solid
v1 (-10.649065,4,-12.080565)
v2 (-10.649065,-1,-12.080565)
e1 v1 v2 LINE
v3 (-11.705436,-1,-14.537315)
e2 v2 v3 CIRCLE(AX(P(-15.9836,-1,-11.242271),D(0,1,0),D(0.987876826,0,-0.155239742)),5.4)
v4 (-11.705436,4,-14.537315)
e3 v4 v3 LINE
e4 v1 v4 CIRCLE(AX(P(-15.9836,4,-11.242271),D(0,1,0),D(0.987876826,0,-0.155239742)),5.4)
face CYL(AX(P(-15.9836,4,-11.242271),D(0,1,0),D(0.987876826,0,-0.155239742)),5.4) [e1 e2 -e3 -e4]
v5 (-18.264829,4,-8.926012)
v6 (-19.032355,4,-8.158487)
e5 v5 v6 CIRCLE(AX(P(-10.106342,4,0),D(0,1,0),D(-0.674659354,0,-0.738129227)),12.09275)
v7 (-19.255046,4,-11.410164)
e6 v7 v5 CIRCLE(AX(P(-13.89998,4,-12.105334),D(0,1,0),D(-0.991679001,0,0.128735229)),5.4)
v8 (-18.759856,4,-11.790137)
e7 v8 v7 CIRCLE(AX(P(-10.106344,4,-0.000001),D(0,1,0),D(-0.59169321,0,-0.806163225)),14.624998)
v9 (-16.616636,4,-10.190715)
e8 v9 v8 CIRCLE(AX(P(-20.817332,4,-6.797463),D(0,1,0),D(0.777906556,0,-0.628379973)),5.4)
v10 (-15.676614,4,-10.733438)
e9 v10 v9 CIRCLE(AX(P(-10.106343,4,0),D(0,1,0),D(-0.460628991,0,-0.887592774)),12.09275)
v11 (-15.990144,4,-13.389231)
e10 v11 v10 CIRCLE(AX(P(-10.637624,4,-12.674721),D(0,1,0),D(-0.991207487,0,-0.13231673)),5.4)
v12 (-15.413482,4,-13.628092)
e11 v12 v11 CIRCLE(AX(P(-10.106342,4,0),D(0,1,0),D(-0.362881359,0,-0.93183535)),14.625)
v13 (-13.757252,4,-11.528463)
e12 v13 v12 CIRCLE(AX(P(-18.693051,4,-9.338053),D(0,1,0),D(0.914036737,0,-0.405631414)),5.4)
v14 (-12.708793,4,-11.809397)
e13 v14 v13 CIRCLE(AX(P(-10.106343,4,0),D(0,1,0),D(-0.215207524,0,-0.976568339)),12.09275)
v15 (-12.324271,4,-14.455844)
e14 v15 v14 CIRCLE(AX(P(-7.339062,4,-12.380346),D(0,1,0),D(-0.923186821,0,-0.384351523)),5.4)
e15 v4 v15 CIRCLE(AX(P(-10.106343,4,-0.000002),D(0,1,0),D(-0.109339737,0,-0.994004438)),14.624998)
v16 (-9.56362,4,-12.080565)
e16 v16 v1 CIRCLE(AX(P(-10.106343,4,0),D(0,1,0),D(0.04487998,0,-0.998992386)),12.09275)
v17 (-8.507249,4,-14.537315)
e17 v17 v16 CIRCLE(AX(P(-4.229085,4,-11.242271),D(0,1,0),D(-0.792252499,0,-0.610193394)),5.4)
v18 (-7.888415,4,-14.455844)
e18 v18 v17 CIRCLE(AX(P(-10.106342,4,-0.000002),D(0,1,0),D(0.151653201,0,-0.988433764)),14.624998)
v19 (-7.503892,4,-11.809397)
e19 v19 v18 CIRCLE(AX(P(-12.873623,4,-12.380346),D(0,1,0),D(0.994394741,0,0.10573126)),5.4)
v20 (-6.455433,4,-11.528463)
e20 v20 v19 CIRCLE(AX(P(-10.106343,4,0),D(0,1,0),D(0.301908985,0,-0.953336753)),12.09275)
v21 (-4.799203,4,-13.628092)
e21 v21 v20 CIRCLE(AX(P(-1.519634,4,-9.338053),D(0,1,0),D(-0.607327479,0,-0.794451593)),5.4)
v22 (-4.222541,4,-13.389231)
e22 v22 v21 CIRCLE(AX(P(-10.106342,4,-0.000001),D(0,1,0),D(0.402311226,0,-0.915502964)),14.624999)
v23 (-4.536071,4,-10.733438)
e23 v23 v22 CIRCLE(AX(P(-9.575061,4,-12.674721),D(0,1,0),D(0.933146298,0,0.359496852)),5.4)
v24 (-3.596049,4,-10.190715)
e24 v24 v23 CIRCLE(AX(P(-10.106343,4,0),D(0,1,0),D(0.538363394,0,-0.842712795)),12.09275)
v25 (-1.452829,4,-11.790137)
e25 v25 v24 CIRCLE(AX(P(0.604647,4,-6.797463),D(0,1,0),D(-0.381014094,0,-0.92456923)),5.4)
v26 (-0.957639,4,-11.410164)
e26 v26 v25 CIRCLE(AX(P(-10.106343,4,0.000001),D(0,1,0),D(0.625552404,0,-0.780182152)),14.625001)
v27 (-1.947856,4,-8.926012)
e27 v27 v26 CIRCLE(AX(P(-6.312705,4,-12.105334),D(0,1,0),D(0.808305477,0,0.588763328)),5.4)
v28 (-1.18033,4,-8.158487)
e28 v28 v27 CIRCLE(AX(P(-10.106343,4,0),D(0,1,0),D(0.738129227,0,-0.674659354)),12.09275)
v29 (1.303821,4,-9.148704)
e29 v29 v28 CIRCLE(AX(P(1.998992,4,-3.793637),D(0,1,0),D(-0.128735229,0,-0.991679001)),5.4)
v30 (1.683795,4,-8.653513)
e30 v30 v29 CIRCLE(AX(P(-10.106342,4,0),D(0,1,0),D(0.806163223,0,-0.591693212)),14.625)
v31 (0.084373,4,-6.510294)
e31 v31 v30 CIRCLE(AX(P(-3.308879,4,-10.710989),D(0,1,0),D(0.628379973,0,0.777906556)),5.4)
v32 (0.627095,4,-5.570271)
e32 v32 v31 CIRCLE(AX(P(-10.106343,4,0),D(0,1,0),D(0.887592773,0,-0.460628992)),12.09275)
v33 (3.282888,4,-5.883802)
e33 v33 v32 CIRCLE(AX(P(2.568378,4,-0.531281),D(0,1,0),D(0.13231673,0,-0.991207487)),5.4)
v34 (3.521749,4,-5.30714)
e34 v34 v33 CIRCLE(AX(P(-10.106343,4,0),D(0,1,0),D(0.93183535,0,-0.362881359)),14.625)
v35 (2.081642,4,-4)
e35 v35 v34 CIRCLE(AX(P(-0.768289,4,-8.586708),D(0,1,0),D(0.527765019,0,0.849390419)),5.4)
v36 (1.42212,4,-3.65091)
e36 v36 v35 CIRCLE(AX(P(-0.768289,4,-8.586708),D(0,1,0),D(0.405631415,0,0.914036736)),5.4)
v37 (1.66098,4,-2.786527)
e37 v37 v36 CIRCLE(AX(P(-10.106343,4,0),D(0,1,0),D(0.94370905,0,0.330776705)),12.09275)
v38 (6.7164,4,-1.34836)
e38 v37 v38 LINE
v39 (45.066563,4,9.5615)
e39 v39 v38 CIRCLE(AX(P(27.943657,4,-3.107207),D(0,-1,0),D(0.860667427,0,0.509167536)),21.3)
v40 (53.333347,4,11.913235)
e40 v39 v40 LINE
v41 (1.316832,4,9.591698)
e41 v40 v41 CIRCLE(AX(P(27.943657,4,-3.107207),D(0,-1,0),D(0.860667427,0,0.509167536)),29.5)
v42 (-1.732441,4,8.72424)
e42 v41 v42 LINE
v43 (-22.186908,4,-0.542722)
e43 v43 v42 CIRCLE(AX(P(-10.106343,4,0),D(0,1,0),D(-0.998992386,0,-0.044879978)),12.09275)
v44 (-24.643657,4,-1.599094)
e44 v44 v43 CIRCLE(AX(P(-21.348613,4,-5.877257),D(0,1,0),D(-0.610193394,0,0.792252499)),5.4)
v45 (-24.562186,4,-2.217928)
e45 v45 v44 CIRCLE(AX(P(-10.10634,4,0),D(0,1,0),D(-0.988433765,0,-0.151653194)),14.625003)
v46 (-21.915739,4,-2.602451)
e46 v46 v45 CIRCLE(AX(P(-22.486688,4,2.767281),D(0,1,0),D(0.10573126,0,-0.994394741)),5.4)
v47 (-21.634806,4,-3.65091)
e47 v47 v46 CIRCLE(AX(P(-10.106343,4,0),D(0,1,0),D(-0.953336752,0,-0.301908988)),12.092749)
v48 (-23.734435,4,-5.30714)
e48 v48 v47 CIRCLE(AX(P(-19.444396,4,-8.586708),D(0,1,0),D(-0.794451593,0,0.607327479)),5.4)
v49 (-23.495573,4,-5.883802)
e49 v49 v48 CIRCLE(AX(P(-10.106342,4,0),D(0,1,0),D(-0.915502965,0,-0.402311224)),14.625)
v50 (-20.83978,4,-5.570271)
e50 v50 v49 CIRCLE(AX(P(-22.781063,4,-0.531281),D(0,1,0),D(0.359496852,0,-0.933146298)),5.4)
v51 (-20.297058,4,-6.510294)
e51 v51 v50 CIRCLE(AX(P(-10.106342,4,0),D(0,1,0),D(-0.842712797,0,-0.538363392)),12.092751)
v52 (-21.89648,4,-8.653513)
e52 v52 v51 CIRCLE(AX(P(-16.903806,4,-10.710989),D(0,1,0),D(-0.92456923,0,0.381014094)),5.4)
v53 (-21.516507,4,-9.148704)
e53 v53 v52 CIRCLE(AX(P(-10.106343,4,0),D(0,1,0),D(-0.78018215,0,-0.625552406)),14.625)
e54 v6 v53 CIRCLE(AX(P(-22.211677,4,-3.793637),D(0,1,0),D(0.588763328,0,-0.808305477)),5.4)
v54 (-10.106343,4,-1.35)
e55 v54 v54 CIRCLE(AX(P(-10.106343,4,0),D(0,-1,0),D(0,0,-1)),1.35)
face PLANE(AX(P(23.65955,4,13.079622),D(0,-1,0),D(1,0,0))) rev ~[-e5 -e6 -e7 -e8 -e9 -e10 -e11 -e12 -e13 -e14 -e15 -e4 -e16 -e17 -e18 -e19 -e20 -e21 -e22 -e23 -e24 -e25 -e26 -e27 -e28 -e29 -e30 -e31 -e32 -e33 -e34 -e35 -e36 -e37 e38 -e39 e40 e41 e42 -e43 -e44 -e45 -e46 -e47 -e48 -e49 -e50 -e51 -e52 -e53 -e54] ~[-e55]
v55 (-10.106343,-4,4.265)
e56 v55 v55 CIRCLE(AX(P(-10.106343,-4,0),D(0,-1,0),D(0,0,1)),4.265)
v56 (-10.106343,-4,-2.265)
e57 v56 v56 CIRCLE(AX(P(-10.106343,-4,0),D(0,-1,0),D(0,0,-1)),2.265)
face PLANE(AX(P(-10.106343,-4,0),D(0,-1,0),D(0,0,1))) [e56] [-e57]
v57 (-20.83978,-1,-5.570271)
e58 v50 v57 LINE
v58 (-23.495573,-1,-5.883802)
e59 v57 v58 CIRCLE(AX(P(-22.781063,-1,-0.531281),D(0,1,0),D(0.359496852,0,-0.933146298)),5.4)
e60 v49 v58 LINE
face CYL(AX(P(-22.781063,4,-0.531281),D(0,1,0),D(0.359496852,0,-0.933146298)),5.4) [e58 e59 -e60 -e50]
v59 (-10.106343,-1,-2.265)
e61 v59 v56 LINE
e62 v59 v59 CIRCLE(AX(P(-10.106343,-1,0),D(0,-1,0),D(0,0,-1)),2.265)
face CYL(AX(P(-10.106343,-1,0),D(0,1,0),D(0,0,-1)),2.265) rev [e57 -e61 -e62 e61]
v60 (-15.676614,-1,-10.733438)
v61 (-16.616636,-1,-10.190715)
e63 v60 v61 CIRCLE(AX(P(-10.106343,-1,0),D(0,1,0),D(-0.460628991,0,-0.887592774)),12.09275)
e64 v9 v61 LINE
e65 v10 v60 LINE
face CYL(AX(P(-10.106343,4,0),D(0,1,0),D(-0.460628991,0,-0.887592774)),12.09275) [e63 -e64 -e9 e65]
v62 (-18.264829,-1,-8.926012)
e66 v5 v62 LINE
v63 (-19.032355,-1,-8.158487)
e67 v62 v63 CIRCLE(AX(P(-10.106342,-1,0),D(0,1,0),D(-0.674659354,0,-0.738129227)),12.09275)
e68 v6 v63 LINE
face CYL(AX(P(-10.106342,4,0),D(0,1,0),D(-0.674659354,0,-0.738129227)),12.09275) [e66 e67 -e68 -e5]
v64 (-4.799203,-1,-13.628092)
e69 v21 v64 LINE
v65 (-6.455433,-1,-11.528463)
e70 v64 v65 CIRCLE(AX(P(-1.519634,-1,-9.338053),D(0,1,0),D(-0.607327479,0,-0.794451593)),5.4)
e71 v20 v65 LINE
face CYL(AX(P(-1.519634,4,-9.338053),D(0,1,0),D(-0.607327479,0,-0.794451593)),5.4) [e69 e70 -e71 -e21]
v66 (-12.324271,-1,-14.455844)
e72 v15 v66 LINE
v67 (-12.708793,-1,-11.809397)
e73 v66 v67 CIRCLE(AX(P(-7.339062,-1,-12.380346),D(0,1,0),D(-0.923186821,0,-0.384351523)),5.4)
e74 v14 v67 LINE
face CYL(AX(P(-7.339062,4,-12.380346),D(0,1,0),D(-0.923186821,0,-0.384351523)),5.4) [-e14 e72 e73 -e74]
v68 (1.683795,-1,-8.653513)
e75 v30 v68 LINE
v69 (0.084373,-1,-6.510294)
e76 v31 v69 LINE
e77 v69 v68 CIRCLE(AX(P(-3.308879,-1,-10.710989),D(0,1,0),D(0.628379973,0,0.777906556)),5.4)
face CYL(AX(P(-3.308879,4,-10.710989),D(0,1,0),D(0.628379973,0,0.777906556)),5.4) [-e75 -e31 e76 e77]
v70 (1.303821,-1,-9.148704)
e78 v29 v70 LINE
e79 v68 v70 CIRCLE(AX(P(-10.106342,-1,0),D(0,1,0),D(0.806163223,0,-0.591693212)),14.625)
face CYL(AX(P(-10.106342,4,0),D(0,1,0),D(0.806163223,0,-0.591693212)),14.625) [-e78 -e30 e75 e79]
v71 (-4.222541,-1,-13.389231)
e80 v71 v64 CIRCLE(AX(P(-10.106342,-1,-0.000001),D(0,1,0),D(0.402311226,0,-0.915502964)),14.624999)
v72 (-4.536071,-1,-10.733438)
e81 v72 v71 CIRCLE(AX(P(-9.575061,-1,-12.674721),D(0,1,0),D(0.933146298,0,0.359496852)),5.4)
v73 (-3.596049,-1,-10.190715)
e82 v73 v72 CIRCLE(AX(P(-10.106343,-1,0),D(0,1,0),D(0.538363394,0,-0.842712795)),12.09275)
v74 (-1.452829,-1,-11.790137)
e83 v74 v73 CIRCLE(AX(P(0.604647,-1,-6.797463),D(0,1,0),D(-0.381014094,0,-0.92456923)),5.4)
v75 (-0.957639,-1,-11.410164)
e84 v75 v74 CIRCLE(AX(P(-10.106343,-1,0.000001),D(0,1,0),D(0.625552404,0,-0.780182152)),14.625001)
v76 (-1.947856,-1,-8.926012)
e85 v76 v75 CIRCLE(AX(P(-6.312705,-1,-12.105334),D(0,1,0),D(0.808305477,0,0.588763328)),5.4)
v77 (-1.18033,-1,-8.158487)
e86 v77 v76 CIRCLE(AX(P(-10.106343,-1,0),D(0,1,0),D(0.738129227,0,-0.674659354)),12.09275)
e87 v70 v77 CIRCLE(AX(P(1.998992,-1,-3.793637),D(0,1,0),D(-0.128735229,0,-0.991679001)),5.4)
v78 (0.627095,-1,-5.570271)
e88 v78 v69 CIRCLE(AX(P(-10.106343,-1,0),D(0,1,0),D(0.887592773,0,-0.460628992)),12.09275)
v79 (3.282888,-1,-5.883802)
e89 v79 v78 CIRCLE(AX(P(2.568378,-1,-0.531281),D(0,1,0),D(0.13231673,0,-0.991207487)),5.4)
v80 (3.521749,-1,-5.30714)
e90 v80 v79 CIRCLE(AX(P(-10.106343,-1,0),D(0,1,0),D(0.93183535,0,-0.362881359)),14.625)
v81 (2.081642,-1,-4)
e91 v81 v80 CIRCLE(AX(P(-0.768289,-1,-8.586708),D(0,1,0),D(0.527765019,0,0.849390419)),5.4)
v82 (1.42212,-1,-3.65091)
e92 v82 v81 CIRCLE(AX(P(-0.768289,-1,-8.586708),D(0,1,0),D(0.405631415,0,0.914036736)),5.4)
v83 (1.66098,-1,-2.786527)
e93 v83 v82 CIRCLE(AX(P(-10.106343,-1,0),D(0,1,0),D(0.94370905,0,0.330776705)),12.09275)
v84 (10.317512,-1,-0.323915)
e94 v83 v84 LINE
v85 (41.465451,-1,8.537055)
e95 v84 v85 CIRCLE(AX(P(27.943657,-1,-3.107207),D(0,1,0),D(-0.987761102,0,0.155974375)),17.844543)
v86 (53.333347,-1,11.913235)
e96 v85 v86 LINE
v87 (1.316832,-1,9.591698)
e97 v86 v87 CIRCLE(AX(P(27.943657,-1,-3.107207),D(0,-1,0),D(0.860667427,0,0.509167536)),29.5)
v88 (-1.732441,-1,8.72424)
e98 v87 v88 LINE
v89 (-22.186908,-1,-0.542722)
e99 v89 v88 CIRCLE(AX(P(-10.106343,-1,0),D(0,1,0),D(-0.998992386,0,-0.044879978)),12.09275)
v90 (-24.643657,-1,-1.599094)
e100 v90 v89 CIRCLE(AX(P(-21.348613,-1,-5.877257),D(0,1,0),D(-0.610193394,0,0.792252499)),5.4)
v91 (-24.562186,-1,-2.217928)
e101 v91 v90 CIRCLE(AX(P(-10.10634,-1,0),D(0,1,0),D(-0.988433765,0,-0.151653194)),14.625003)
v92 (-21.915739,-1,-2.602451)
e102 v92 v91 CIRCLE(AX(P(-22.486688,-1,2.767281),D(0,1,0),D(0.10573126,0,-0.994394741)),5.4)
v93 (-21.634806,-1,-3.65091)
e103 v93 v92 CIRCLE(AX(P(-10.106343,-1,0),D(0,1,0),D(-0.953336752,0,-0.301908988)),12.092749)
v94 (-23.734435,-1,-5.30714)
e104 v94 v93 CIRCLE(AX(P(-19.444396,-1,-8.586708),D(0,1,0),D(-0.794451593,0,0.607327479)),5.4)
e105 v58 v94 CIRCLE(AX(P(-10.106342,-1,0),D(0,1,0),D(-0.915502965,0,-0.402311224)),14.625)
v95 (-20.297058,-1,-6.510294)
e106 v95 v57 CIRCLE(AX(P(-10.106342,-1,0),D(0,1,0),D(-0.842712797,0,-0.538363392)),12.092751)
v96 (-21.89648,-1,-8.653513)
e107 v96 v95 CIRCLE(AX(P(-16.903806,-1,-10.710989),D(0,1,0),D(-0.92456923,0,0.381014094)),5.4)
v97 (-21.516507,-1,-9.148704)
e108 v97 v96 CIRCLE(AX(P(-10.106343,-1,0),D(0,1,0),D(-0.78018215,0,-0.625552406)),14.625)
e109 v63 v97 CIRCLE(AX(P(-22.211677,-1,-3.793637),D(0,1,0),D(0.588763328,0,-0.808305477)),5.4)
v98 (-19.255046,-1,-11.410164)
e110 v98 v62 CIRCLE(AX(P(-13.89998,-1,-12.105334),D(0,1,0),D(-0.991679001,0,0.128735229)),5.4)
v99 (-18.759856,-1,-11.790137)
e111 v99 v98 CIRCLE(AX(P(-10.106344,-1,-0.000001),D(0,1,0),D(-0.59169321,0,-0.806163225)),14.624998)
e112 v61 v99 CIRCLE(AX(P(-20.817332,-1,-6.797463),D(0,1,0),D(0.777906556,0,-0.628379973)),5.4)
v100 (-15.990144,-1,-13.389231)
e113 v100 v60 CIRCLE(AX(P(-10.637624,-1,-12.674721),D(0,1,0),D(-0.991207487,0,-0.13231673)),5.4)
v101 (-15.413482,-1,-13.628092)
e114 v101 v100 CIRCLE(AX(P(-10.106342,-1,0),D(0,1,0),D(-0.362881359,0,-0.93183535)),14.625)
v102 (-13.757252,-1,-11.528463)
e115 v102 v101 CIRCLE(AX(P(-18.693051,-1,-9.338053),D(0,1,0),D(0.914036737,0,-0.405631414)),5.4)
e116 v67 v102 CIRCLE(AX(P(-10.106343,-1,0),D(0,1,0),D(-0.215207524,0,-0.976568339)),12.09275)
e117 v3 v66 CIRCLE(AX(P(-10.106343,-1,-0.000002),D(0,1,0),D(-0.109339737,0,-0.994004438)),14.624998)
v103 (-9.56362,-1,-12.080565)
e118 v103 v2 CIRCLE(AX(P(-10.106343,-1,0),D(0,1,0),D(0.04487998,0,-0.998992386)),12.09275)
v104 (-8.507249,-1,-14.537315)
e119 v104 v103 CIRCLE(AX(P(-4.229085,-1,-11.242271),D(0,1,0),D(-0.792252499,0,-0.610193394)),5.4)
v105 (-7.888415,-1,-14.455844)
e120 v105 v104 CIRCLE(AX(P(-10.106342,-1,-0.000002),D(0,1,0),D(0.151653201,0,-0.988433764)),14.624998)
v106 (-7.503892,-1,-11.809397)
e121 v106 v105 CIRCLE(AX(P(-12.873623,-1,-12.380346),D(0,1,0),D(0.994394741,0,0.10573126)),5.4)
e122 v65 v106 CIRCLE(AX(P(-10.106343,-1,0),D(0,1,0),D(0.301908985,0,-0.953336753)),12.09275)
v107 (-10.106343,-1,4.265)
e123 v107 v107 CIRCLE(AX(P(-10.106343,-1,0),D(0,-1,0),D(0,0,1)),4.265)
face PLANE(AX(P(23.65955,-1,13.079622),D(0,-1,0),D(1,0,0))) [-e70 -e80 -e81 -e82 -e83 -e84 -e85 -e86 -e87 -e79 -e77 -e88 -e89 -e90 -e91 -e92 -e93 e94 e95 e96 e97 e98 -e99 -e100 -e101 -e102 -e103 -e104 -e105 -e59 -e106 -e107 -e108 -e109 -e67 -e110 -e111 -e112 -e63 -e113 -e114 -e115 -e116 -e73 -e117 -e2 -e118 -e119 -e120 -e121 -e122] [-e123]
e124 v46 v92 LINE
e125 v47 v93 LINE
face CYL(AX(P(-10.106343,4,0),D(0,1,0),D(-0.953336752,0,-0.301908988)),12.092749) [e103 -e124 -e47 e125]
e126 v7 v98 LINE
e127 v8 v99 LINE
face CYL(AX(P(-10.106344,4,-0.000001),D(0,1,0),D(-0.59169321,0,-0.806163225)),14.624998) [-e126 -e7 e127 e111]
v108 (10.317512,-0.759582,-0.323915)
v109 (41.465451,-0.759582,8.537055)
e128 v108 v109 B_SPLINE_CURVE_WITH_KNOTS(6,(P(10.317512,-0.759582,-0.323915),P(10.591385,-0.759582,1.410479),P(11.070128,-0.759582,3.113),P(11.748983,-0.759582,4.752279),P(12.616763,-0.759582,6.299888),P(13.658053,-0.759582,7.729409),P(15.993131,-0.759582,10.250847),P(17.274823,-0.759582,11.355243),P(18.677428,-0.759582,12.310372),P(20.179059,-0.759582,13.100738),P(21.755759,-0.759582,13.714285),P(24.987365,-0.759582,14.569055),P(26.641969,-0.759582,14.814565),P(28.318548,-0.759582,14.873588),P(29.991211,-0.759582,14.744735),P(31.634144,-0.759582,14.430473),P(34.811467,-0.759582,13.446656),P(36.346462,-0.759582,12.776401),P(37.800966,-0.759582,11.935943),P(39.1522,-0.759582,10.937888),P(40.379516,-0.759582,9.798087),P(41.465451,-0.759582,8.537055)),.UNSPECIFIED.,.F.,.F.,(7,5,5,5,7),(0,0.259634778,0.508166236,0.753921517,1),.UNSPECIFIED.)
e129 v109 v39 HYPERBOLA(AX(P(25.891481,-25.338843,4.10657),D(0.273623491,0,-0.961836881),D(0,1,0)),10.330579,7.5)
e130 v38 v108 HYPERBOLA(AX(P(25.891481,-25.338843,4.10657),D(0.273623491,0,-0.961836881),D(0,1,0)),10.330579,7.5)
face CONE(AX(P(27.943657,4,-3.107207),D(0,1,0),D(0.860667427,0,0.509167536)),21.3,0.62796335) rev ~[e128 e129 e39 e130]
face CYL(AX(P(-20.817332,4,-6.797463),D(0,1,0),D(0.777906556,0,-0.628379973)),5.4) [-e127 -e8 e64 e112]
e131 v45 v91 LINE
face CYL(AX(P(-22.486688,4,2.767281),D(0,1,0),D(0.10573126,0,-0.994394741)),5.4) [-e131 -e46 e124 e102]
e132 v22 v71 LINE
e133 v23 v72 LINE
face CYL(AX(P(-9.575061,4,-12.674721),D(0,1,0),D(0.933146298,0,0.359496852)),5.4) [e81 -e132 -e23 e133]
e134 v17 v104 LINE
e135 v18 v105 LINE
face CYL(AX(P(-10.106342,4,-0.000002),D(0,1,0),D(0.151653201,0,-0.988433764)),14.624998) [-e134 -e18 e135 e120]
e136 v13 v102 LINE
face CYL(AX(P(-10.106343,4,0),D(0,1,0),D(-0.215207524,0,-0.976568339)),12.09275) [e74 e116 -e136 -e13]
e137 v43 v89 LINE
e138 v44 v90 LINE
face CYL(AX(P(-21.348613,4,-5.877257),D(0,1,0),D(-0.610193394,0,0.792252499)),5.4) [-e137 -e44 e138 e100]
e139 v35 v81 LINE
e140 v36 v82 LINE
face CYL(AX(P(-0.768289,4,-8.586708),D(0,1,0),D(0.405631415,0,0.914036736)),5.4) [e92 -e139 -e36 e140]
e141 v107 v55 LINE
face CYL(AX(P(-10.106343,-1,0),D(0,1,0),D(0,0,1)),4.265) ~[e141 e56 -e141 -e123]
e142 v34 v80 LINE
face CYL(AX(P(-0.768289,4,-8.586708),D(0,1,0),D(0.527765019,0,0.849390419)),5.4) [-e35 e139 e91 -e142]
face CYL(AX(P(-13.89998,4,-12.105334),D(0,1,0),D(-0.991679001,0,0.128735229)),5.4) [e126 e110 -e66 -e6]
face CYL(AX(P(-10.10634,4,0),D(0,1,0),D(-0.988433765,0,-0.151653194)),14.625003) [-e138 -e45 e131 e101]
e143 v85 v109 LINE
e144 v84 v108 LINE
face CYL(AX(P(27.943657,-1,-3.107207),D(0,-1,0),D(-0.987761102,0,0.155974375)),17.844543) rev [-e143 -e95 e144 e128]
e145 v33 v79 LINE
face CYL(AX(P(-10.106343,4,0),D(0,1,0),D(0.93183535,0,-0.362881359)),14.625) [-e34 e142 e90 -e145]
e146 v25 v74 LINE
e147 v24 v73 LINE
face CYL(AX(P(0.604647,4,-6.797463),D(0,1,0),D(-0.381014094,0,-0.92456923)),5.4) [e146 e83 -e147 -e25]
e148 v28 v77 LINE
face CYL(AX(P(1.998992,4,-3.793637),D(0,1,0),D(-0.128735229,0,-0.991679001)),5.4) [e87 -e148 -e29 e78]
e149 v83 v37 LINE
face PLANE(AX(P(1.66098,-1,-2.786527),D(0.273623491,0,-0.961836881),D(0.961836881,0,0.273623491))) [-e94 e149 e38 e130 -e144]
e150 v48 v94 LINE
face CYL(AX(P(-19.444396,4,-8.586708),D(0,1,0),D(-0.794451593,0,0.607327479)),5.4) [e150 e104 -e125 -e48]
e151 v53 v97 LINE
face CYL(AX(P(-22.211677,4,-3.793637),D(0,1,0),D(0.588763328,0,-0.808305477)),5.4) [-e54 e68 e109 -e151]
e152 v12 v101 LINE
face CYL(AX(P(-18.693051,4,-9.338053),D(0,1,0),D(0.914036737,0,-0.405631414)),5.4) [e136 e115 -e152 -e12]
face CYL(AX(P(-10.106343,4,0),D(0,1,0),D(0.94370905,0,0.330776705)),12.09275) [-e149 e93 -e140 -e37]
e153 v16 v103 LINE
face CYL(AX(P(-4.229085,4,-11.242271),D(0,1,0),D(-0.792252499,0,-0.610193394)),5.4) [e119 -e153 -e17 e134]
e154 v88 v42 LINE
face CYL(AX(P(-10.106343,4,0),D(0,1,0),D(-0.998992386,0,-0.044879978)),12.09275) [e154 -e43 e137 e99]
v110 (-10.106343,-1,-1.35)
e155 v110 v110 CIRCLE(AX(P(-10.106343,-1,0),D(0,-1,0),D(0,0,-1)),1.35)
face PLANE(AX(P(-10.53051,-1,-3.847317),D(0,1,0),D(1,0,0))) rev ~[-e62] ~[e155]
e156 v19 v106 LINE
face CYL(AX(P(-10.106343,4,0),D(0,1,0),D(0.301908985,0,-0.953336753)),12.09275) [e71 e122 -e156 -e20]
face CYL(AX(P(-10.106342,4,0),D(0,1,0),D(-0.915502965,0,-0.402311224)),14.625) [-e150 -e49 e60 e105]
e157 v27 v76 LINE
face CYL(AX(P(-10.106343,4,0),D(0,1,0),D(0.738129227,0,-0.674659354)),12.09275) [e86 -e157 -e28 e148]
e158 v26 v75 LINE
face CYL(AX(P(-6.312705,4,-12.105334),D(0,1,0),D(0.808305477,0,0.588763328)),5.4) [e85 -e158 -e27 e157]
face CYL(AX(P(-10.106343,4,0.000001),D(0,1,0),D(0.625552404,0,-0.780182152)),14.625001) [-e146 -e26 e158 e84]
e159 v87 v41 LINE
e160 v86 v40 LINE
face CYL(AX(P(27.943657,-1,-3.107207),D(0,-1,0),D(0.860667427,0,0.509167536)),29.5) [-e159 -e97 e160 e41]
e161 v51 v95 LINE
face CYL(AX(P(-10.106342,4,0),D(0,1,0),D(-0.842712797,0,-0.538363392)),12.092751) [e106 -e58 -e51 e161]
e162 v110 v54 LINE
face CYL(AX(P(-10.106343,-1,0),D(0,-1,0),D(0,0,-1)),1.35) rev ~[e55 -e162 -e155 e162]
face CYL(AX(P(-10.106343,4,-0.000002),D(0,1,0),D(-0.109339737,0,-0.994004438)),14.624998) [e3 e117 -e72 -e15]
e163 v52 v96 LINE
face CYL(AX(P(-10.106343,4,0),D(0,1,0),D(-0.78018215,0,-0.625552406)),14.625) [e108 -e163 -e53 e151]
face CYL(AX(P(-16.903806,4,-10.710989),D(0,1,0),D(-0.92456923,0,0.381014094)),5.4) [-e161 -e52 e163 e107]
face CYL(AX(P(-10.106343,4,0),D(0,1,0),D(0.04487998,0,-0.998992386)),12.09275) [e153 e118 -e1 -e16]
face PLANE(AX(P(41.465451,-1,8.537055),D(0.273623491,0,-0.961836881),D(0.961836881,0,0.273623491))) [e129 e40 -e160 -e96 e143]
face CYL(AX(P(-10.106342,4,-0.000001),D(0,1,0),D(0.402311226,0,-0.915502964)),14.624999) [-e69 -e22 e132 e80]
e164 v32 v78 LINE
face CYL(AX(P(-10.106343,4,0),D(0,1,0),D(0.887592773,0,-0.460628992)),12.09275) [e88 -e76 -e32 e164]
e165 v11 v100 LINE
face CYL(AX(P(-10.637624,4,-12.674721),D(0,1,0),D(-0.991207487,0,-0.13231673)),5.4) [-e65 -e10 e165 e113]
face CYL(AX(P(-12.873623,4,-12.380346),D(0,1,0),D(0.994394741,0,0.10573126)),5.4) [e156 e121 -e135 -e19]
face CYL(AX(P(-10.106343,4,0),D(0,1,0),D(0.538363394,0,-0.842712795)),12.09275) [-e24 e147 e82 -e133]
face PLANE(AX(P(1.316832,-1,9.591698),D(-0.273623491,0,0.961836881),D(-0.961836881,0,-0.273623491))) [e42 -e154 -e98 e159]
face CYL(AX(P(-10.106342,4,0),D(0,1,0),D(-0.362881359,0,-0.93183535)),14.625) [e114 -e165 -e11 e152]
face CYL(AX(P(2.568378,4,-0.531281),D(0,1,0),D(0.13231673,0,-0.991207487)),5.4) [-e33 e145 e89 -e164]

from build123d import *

# Parameters (mm, degrees)
BOSS_EXTRUDE1_DEPTH = 5
SKETCH_1_R          = 1.35
CUT_EXTRUDE_1_DEPTH = 30.045539702
SKETCH_2_R          = 4.265
SKETCH_2_R_2        = 2.265
EXTRUDE_1_DEPTH     = 3
EXTRUDE_2_DEPTH     = 5


with BuildPart() as part:
    # Sketch1 → Boss-Extrude1 (new body)
    with BuildSketch(Plane(origin=(0, 4, 0), x_dir=(1, 0, 0), z_dir=(0, 1, 0))):
        with BuildLine():
            ThreePointArc((-24.562186363, 2.217928037), (-24.606223651, 1.908945561), (-24.643657446, 1.599093719))
            ThreePointArc((-24.643657446, 1.599093719), (-23.481710119, 0.916420874), (-22.186907731, 0.542722358))
            ThreePointArc((-22.186907731, 0.542722358), (-12.402167869, -11.872817218), (1.305695063, -4))
            ThreePointArc((1.305695063, -4), (1.985007572, -0.183996455), (1.422120465, 3.650909885))
            ThreePointArc((1.422120465, 3.650909885), (1.757918397, 3.814049117), (2.081641936, 4))
            ThreePointArc((2.081641936, 4), (2.861028333, 4.588201733), (3.521749436, 5.30713988))
            ThreePointArc((3.521749436, 5.30713988), (3.405395609, 5.596745198), (3.282888305, 5.883801663))
            ThreePointArc((3.282888305, 5.883801663), (1.93527598, 5.894040025), (0.627094961, 5.57027124))
            ThreePointArc((0.627094961, 5.57027124), (0.366286148, 6.046375), (0.084372603, 6.510293938))
            ThreePointArc((0.084372603, 6.510293938), (1.018855105, 7.48132754), (1.683794586, 8.65351323))
            ThreePointArc((1.683794586, 8.65351323), (1.496450048, 8.903135899), (1.303821399, 9.148703928))
            ThreePointArc((1.303821399, 9.148703928), (-0.000522033, 8.809805691), (-1.180330337, 8.158486898))
            ThreePointArc((-1.180330337, 8.158486898), (-1.555477026, 8.550865528), (-1.947855656, 8.926012217))
            ThreePointArc((-1.947855656, 8.926012217), (-1.296536862, 10.105820521), (-0.957638625, 11.410163953))
            ThreePointArc((-0.957638625, 11.410163953), (-1.203206655, 11.602792602), (-1.452829324, 11.79013714))
            ThreePointArc((-1.452829324, 11.79013714), (-2.625015014, 11.125197659), (-3.596048616, 10.190715157))
            ThreePointArc((-3.596048616, 10.190715157), (-4.059967554, 10.472628702), (-4.536071314, 10.733437515))
            ThreePointArc((-4.536071314, 10.733437515), (-4.212302529, 12.041618533), (-4.222540891, 13.389230859))
            ThreePointArc((-4.222540891, 13.389230859), (-4.509597355, 13.511738163), (-4.799202674, 13.62809199))
            ThreePointArc((-4.799202674, 13.62809199), (-5.759348103, 12.682425791), (-6.455432668, 11.528463019))
            ThreePointArc((-6.455432668, 11.528463019), (-6.976508546, 11.680699536), (-7.503891752, 11.809396783))
            ThreePointArc((-7.503891752, 11.809396783), (-7.529737283, 13.156800143), (-7.888414517, 14.455843809))
            ThreePointArc((-7.888414517, 14.455843809), (-8.197396993, 14.499881098), (-8.507248835, 14.537314892))
            ThreePointArc((-8.507248835, 14.537314892), (-9.18992168, 13.375367565), (-9.563620196, 12.080565177))
            ThreePointArc((-9.563620196, 12.080565177), (-10.106342554, 12.09275), (-10.649064912, 12.080565177))
            ThreePointArc((-10.649064912, 12.080565177), (-11.022763428, 13.375367565), (-11.705436272, 14.537314892))
            ThreePointArc((-11.705436272, 14.537314892), (-12.015288115, 14.499881098), (-12.324270591, 14.455843809))
            ThreePointArc((-12.324270591, 14.455843809), (-12.682947825, 13.156800143), (-12.708793355, 11.809396783))
            ThreePointArc((-12.708793355, 11.809396783), (-13.236176561, 11.680699536), (-13.757252439, 11.528463019))
            ThreePointArc((-13.757252439, 11.528463019), (-14.453337005, 12.682425791), (-15.413482434, 13.62809199))
            ThreePointArc((-15.413482434, 13.62809199), (-15.703087752, 13.511738163), (-15.990144217, 13.389230859))
            ThreePointArc((-15.990144217, 13.389230859), (-16.000382579, 12.041618533), (-15.676613793, 10.733437515))
            ThreePointArc((-15.676613793, 10.733437515), (-16.152717554, 10.472628702), (-16.616636492, 10.190715157))
            ThreePointArc((-16.616636492, 10.190715157), (-17.587670094, 11.125197659), (-18.759855783, 11.79013714))
            ThreePointArc((-18.759855783, 11.79013714), (-19.009478453, 11.602792602), (-19.255046482, 11.410163953))
            ThreePointArc((-19.255046482, 11.410163953), (-18.916148245, 10.105820521), (-18.264829452, 8.926012217))
            ThreePointArc((-18.264829452, 8.926012217), (-18.657208082, 8.550865528), (-19.032354771, 8.158486898))
            ThreePointArc((-19.032354771, 8.158486898), (-20.212163074, 8.809805691), (-21.516506507, 9.148703928))
            ThreePointArc((-21.516506507, 9.148703928), (-21.709135156, 8.903135899), (-21.896479694, 8.65351323))
            ThreePointArc((-21.896479694, 8.65351323), (-21.231540213, 7.48132754), (-20.297057711, 6.510293938))
            ThreePointArc((-20.297057711, 6.510293938), (-20.578971255, 6.046375), (-20.839780068, 5.57027124))
            ThreePointArc((-20.839780068, 5.57027124), (-22.147961087, 5.894040025), (-23.495573413, 5.883801663))
            ThreePointArc((-23.495573413, 5.883801663), (-23.618080717, 5.596745198), (-23.734434544, 5.30713988))
            ThreePointArc((-23.734434544, 5.30713988), (-22.788768345, 4.346994451), (-21.634805572, 3.650909885))
            ThreePointArc((-21.634805572, 3.650909885), (-21.78704209, 3.129834008), (-21.915739337, 2.602450802))
            ThreePointArc((-21.915739337, 2.602450802), (-23.263142697, 2.576605271), (-24.562186363, 2.217928037))
        make_face()
    extrude(amount=-BOSS_EXTRUDE1_DEPTH)

    # 草图1 → 切除-拉伸1 (cut, through all)
    with BuildSketch(Plane.XZ.offset(1)):
        with Locations(Location((-10.106342554, 0, 0), (0, 0, 270))):
            Circle(SKETCH_1_R)
    extrude(amount=-CUT_EXTRUDE_1_DEPTH, mode=Mode.SUBTRACT)

    # 草图2 → 凸台-拉伸1 (add)
    with BuildSketch(Plane.XZ.offset(1)):
        with Locations(Location((-10.106342554, 0, 0), (0, 0, 90))):
            Circle(SKETCH_2_R)
        with Locations(Location((-10.106342554, 0, 0), (0, 0, 270))):
            Circle(SKETCH_2_R_2, mode=Mode.SUBTRACT)
    extrude(amount=EXTRUDE_1_DEPTH)

    # 草图3 → 凸台-拉伸2 (add)
    with BuildSketch(Plane.XZ.offset(1)):
        with BuildLine():
            Line((1.316832407, 9.59169813), (-1.732440783, 8.724240465))
            Line((-1.732440783, 8.724240465), (1.660979616, -2.786526782))
            Line((1.660979616, -2.786526782), (10.317511543, -0.323915364))
            ThreePointArc((10.317511543, -0.323915364), (23.060971172, 14.056333138), (41.465450985, 8.537054824))
            Line((41.465450985, 8.537054824), (53.333346557, 11.913235424))
            ThreePointArc((53.333346557, 11.913235424), (26.628358933, 26.363456331), (1.316832407, 9.59169813))
        make_face()
    extrude(amount=-EXTRUDE_2_DEPTH)

    # 草图5 → 切除-旋转1 (revolve, cut)
    with BuildSketch(Plane(origin=(8.606089679, 0, -14.547237495), x_dir=(-0.8606674274779063, 0, -0.5091675355701334), z_dir=(0.5091675355701334, 0, -0.8606674274779063))):
        Polygon((-43.768106901, 4), (-39.968106901, -1.23415978), (-39.968106901, 4), align=None)
    revolve(axis=Axis((27.943657446, -0.047851862, -3.107206875), (0, -1, 0)), mode=Mode.SUBTRACT)


solid = part.part
